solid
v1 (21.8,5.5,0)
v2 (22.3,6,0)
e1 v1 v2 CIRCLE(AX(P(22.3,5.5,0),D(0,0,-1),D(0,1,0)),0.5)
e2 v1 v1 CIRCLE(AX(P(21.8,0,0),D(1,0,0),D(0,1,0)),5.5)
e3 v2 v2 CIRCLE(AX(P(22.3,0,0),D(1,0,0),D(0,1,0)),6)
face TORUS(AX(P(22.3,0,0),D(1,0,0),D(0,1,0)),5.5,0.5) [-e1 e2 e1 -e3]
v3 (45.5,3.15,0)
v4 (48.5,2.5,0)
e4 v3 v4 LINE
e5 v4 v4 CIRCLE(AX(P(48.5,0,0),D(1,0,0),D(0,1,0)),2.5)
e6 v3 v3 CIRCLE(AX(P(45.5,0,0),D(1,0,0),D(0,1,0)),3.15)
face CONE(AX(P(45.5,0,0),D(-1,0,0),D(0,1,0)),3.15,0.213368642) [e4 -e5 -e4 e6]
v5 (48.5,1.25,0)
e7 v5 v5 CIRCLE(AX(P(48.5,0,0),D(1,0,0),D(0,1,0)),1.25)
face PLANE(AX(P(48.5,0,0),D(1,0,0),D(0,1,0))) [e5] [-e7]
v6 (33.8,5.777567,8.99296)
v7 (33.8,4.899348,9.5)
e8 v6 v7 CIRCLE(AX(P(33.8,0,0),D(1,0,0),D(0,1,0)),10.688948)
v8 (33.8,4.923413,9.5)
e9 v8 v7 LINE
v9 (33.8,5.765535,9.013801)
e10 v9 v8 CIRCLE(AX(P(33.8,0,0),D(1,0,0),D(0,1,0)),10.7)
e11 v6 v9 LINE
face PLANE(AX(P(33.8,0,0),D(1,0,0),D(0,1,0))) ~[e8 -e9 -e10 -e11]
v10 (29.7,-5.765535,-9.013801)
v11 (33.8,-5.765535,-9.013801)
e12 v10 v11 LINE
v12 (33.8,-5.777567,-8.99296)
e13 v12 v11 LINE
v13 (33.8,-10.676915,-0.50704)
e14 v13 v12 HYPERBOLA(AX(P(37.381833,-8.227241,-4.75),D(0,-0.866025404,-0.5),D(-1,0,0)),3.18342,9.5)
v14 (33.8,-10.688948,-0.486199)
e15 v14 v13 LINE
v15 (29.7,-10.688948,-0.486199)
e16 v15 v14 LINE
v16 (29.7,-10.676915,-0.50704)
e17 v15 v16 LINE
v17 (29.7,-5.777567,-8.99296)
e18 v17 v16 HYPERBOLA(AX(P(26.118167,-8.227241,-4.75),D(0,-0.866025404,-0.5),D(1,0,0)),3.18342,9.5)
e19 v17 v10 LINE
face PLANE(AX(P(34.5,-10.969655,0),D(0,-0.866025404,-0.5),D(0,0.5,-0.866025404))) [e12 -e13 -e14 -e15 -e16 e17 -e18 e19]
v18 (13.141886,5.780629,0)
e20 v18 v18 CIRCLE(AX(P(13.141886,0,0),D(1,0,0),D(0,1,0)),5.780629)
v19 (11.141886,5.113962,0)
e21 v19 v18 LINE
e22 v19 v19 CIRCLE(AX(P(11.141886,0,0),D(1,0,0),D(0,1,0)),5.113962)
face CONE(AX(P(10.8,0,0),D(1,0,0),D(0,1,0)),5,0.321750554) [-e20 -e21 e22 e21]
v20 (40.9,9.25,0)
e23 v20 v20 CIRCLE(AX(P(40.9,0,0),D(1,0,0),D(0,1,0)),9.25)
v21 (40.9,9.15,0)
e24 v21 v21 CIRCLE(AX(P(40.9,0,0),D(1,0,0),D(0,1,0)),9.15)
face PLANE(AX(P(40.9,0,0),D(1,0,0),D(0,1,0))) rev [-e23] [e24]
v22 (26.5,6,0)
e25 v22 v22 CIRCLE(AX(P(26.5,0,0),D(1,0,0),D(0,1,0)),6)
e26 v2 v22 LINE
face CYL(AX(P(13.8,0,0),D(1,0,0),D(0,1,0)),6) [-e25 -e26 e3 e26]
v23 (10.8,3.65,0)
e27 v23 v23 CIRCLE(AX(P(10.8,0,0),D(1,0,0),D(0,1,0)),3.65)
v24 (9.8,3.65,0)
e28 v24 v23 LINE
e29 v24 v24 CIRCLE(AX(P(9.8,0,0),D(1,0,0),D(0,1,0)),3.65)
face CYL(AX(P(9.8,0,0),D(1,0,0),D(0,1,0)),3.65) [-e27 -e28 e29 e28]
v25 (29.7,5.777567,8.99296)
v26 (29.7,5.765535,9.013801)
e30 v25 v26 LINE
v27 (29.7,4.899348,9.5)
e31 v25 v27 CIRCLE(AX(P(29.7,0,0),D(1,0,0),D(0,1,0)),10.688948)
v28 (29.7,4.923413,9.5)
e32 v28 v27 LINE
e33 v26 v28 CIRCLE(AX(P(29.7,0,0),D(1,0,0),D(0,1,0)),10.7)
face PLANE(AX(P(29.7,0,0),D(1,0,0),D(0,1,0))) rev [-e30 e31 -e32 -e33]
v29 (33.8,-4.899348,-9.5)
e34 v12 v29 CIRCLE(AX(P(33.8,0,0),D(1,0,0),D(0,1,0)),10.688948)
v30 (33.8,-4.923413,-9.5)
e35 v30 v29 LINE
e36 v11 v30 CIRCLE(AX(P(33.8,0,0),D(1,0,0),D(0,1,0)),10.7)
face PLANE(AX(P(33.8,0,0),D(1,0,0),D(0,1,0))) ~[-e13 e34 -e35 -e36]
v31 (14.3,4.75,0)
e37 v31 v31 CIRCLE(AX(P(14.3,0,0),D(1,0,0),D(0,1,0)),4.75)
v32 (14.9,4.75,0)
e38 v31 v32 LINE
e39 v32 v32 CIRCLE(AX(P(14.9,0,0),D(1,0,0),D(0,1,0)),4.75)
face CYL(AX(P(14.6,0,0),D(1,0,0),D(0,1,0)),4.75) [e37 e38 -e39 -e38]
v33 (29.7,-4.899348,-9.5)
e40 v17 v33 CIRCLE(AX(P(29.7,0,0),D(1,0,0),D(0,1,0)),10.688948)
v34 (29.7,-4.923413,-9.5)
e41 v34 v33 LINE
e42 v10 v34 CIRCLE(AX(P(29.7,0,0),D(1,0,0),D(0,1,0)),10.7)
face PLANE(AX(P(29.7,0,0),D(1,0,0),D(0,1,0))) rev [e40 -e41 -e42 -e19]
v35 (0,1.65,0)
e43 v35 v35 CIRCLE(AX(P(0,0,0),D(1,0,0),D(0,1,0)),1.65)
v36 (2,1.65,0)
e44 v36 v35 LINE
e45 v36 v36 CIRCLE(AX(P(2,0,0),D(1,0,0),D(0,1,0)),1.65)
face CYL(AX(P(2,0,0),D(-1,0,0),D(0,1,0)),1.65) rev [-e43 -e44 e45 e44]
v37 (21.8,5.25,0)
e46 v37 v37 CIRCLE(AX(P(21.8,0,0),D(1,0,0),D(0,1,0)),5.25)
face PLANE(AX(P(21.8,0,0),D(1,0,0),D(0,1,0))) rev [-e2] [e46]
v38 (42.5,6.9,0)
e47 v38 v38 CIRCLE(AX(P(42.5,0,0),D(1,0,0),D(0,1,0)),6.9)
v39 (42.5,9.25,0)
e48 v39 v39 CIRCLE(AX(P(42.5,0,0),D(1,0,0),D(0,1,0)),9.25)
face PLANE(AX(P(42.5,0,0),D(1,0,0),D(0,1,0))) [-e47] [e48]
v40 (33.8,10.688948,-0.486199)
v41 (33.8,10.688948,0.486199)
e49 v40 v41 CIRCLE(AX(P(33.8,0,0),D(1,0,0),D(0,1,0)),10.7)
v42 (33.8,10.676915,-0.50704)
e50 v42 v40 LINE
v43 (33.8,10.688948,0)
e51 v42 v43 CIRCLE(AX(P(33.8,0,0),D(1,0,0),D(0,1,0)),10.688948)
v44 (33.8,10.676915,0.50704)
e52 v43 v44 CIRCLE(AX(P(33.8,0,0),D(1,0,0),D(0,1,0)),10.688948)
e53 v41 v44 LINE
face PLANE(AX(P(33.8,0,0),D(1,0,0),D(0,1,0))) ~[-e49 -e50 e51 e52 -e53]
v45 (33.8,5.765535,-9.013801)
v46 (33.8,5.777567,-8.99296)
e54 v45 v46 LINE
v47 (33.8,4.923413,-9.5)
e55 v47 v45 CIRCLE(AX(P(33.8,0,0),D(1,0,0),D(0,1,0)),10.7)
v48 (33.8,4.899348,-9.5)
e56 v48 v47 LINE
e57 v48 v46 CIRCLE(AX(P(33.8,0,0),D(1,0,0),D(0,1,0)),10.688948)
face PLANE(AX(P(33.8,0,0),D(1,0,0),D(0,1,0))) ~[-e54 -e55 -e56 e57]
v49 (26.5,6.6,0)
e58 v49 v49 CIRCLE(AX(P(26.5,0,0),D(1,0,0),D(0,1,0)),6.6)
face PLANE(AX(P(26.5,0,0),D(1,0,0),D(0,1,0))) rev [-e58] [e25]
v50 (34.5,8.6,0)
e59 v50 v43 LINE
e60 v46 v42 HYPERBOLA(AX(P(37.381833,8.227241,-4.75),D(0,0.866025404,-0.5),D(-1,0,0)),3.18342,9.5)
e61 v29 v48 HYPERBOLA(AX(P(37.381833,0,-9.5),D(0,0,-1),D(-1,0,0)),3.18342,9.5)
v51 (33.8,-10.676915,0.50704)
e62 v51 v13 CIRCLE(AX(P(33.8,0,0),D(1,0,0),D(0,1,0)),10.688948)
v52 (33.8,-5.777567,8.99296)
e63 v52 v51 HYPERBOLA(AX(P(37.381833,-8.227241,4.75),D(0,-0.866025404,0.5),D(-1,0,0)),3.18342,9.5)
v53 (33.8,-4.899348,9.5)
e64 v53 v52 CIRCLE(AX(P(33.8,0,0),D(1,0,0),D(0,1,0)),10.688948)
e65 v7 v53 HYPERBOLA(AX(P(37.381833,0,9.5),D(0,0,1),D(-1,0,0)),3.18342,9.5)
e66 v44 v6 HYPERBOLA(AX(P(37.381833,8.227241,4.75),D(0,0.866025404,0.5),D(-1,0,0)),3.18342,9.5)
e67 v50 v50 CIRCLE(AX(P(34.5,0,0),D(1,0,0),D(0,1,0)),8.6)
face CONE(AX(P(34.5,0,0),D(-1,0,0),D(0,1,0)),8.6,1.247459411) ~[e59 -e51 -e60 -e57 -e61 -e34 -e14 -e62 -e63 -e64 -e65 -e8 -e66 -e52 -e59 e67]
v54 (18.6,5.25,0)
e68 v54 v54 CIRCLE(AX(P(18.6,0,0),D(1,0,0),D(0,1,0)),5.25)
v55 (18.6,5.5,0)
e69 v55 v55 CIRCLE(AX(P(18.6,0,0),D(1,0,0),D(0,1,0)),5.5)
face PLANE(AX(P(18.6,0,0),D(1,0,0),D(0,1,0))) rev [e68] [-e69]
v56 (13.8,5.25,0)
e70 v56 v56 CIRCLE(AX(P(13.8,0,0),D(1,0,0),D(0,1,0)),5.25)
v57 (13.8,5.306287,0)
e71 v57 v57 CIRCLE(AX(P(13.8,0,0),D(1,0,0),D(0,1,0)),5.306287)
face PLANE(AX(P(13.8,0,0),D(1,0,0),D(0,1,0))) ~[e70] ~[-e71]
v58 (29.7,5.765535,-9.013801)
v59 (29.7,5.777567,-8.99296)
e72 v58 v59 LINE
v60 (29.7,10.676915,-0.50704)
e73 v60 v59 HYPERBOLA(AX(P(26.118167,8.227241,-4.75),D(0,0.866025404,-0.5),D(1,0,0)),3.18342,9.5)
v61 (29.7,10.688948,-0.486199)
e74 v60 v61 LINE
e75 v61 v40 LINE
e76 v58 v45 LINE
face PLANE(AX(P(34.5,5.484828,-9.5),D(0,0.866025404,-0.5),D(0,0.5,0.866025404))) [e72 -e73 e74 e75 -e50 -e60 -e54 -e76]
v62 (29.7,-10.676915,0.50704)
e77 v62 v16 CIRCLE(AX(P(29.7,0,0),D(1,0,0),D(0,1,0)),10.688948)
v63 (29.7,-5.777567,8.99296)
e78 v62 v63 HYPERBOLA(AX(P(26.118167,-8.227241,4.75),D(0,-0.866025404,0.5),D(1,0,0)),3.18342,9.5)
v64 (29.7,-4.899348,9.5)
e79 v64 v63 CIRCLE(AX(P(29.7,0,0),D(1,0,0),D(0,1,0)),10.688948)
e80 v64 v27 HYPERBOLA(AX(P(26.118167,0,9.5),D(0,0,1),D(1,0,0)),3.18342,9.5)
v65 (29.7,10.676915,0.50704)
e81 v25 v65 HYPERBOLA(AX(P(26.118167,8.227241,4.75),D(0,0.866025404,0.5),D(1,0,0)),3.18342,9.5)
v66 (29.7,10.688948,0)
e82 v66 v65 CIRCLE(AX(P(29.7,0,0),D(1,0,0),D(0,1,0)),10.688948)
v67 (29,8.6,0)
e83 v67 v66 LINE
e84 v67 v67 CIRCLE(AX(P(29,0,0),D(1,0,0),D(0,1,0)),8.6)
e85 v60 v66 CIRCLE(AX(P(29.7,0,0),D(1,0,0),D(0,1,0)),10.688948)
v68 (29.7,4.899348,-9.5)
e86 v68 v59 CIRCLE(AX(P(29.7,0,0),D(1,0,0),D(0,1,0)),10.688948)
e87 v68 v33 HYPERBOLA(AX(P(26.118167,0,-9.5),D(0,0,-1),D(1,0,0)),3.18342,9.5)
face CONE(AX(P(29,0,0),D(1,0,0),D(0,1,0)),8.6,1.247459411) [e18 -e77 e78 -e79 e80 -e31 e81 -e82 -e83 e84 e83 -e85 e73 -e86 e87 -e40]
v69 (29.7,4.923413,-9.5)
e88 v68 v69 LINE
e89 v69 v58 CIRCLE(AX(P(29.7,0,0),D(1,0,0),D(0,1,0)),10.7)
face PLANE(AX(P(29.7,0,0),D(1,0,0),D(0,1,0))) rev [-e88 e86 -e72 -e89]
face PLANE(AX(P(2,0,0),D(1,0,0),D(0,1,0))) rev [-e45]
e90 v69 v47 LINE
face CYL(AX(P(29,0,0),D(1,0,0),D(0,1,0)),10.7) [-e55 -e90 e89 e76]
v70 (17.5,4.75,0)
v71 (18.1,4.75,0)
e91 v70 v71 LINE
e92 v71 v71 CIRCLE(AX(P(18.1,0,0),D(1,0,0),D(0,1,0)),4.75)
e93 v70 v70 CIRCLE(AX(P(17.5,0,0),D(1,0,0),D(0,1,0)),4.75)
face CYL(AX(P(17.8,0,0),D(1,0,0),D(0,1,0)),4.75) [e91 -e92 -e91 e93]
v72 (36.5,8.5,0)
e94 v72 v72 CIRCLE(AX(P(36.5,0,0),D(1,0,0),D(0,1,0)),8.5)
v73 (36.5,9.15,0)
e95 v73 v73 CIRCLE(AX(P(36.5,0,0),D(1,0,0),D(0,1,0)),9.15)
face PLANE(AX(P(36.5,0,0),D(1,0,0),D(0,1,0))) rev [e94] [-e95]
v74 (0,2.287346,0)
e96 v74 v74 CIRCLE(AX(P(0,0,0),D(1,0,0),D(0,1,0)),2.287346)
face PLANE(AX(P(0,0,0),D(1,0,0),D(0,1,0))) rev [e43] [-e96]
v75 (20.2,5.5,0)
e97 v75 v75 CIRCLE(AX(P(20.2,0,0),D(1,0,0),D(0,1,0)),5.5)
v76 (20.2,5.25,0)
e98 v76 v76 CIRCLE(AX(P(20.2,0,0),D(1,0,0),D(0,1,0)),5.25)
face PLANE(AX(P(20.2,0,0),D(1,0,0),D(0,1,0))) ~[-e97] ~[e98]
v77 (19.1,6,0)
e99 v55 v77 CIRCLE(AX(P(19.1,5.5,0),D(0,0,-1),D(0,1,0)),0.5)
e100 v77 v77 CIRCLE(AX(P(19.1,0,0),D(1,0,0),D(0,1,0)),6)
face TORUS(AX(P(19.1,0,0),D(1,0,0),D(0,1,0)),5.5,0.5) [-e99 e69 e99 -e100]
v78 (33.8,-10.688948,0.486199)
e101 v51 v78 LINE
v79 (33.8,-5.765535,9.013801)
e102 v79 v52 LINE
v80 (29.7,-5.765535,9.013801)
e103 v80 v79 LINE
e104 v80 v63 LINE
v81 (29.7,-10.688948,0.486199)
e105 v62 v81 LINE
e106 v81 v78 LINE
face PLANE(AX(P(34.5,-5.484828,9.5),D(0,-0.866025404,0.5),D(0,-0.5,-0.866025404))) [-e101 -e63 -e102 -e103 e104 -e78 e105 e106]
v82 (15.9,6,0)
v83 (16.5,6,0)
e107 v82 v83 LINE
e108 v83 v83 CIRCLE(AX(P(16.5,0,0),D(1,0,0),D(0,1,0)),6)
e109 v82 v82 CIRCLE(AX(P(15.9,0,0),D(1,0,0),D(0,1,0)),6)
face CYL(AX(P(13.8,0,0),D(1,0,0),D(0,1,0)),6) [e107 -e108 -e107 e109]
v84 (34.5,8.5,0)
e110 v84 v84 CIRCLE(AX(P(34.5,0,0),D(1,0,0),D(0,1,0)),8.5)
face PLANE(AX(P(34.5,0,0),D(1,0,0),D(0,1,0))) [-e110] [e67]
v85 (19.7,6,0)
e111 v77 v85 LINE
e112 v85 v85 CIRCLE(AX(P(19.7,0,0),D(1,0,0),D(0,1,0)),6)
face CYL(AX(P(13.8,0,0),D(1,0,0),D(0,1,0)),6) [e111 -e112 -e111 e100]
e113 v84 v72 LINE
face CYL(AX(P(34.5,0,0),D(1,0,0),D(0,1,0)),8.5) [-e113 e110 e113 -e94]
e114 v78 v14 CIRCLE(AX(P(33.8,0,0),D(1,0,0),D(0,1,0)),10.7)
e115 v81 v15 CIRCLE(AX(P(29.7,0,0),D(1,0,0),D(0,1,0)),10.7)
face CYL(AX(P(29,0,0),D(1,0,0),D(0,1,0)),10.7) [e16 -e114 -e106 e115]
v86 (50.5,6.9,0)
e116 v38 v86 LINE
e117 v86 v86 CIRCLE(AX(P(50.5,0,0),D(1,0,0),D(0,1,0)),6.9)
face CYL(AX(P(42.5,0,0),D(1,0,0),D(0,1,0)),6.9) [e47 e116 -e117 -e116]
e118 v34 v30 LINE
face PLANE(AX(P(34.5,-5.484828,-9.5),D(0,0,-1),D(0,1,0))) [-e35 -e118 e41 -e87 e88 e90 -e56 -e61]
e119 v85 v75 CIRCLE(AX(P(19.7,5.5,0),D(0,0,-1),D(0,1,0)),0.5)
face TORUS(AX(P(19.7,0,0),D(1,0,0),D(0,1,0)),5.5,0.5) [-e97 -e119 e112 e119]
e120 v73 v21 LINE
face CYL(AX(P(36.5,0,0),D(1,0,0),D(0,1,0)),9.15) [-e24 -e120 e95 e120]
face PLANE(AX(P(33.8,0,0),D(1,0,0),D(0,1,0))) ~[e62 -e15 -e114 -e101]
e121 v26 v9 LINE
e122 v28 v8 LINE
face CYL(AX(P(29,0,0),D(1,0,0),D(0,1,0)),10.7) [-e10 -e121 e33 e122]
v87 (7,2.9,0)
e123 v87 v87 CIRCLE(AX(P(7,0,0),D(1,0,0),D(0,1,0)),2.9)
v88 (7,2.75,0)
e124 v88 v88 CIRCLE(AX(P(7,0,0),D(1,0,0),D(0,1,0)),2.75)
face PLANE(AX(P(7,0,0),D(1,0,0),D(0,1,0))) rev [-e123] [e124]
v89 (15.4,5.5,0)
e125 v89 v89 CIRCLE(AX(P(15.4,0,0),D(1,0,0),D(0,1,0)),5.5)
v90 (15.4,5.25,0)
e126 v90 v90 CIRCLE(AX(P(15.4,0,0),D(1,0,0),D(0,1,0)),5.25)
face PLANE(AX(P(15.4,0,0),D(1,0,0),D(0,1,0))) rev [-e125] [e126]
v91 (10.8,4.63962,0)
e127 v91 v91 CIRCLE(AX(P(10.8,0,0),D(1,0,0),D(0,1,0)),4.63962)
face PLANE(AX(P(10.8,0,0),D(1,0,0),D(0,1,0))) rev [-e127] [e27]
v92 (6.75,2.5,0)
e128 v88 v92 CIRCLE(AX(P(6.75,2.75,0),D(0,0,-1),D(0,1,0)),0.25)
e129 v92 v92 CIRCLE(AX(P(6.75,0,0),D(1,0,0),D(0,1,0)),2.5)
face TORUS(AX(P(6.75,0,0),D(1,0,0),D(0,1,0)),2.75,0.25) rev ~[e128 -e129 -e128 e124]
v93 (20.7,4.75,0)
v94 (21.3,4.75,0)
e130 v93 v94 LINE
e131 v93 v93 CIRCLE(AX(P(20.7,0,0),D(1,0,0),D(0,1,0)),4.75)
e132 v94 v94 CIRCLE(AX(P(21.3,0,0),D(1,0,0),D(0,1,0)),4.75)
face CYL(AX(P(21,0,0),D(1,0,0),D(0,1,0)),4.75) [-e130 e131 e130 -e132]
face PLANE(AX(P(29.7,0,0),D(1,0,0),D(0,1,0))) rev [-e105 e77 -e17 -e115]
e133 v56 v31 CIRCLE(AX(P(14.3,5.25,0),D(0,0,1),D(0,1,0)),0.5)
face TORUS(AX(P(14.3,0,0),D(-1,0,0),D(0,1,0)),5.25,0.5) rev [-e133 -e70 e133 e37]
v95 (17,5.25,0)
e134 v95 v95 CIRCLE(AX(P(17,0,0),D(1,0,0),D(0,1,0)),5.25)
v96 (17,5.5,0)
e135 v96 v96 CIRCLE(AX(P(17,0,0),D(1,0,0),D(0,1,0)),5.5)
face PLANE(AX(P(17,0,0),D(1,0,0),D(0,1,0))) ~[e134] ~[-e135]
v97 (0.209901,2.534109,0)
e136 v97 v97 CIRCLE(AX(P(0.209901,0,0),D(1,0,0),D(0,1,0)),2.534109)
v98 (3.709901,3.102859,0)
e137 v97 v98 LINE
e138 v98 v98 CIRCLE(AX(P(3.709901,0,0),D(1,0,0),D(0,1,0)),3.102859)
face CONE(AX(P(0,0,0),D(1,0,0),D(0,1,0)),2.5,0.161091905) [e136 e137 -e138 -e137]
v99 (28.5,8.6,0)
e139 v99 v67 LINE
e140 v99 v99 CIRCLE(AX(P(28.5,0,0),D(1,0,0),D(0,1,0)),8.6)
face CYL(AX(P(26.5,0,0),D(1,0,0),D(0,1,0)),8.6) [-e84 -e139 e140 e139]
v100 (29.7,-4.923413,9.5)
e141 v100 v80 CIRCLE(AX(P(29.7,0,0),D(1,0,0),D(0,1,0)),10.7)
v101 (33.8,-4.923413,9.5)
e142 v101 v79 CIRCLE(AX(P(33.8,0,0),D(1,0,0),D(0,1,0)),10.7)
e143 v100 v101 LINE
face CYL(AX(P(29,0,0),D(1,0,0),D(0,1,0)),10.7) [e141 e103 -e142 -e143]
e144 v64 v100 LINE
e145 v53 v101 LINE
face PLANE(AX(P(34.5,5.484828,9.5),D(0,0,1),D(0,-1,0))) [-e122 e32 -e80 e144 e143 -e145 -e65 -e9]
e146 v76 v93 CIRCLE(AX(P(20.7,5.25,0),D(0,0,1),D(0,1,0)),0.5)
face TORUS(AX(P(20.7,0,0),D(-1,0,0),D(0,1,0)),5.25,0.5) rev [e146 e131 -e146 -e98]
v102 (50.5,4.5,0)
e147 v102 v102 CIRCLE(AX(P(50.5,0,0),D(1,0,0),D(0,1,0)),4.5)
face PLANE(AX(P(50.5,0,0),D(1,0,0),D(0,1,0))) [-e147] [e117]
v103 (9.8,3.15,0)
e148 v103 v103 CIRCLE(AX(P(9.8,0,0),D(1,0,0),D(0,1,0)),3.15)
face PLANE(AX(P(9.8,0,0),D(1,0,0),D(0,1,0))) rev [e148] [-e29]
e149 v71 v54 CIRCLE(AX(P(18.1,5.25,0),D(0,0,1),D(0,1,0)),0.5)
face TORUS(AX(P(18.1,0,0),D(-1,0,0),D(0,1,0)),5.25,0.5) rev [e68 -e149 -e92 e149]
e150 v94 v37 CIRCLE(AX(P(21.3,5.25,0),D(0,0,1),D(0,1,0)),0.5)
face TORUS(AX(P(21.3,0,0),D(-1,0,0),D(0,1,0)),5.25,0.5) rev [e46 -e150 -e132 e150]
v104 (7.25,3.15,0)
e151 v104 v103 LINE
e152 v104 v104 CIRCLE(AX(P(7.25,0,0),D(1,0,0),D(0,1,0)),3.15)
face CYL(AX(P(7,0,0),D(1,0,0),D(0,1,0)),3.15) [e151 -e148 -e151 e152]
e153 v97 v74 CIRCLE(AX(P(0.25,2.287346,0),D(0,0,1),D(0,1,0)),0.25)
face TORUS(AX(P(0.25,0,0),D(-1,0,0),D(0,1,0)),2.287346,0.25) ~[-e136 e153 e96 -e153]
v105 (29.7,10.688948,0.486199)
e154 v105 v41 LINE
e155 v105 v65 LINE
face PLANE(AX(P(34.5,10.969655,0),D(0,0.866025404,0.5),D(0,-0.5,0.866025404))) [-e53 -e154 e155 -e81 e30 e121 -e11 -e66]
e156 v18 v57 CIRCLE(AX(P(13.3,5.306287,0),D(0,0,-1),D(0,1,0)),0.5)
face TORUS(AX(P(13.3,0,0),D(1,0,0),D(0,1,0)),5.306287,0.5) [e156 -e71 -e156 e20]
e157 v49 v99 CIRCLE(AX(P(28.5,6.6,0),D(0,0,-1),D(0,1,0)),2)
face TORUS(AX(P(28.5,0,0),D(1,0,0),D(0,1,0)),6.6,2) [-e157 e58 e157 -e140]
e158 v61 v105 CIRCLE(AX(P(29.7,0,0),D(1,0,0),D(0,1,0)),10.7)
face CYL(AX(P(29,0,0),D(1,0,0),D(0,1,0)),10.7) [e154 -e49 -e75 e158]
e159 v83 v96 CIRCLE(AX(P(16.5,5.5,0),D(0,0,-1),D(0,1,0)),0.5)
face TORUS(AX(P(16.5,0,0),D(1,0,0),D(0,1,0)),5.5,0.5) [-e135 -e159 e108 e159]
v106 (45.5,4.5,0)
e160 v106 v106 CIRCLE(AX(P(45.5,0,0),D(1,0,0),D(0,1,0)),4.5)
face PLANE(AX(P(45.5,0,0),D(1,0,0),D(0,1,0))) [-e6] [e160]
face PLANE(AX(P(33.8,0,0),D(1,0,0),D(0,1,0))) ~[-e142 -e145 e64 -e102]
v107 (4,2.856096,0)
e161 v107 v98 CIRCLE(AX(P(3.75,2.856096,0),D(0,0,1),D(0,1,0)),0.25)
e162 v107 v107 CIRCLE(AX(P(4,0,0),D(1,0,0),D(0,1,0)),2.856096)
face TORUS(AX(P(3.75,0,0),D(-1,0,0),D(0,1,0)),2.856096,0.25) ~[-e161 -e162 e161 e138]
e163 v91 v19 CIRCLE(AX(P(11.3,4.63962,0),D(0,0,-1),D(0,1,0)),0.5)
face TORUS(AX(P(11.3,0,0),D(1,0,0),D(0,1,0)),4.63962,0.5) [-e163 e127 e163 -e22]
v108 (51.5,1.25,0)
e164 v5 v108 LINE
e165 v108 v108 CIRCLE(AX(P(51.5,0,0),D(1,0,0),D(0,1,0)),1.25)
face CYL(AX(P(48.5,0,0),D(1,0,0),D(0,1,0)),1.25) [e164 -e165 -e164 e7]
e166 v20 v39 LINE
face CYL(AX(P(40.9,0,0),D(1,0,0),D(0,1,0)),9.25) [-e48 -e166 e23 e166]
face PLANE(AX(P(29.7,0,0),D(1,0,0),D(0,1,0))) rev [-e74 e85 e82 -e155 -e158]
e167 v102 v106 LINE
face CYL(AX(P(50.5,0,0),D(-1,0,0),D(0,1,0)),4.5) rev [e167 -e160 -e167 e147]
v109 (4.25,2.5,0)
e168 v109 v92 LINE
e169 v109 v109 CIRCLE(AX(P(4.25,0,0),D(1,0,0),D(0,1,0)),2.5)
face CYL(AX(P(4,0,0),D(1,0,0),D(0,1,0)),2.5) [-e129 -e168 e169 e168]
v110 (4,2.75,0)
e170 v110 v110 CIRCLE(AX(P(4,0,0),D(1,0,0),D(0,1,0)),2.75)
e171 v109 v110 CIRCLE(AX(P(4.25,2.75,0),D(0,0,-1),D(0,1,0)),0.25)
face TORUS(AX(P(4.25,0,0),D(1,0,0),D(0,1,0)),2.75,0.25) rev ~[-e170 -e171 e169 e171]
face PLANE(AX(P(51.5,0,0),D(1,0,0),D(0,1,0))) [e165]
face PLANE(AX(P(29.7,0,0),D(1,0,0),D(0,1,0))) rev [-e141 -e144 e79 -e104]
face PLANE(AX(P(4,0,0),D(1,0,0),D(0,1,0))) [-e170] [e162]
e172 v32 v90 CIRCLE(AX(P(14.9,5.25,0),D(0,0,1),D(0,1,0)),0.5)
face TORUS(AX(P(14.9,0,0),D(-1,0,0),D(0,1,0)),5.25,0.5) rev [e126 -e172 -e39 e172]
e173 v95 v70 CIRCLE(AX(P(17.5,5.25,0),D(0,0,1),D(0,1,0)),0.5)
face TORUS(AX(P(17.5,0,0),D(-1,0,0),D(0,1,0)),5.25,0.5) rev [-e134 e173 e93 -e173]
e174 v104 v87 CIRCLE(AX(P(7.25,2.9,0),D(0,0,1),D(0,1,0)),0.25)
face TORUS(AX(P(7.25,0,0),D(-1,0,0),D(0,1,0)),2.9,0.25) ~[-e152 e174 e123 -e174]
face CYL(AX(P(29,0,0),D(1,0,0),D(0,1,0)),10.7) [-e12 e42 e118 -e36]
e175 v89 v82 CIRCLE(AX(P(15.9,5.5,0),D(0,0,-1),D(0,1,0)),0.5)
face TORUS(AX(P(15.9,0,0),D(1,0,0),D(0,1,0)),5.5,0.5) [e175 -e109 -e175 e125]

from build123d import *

# Parameters (mm, degrees)
SKETCH2_R          = 12.626586576
CUT_EXTRUDE1_DEPTH = 10
SKETCH3_W          = 1.6
SKETCH3_H          = 2.464975845
SKETCH3_H_2        = 2.36352657
FILLET1_R          = 0.5
FILLET2_R          = 0.25
FILLET3_R          = 2


with BuildPart() as part:
    # Sketch1 → Revolve1 (revolve)
    with BuildSketch(Plane.XY):
        Polygon((2, 0), (2, 1.65), (0, 1.65), (0, 2.5), (4, 3.15), (4, 2.5), (7, 2.5), (7, 3.15), (9.8, 3.15), (9.8, 3.65), (10.8, 3.65), (10.8, 5), (13.8, 6), (26.5, 6), (26.5, 8.6), (29, 8.6), (29, 10.7), (34.5, 10.7), (34.5, 8.5), (36.5, 8.5), (36.5, 9.15), (40.9, 9.15), (40.9, 9.25), (42.5, 9.25), (42.5, 6.9), (50.5, 6.9), (50.5, 4.5), (45.5, 4.5), (45.5, 3.15), (48.5, 2.5), (48.5, 1.25), (51.5, 1.25), (51.5, 0), align=None)
    revolve(axis=Axis((0, 0, 0), (1, 0, 0)))

    # Sketch2 → Cut-Extrude1 (cut)
    with BuildSketch(Plane(origin=(34.5, 0, 0), x_dir=(0, 0, -1), z_dir=(1, 0, 0))):
        Circle(SKETCH2_R)
        Polygon((0, 10.969655115), (-9.5, 5.484827557), (-9.5, -5.484827557), (0, -10.969655115), (9.5, -5.484827557), (9.5, 5.484827557), align=None, mode=Mode.SUBTRACT)
    extrude(amount=-CUT_EXTRUDE1_DEPTH, mode=Mode.SUBTRACT)

    # Sketch3 → Cut-Revolve1 (revolve, cut)
    with BuildSketch(Plane.XY):
        with Locations((14.6, 5.982487923)):
            Rectangle(SKETCH3_W, SKETCH3_H)
        with Locations((17.8, 5.931763285)):
            Rectangle(SKETCH3_W, SKETCH3_H_2)
        with Locations((21, 5.931763285)):
            Rectangle(SKETCH3_W, SKETCH3_H_2)
        Polygon((29, 10.688948061), (29, 8.6), (29.7, 10.688948061), (29.7, 11.924429979), (29, 11.924429979), align=None)
        Polygon((34.5, 8.6), (33.8, 10.688948061), (33.8, 13.16419264), (34.5, 13.16419264), (34.5, 10.688948061), align=None)
    revolve(axis=Axis((0, 0, 0), (1, 0, 0)), mode=Mode.SUBTRACT)

    # Fillet1
    fillet1_edges = [part.edges().sort_by_distance(p)[0] for p in [
        (15.4, -4.75, 0),
        (13.8, -6, 0),
        (15.4, -6, 0),
        (13.8, -4.75, 0),
        (18.6, -4.75, 0),
        (17, -6, 0),
        (18.6, -6, 0),
        (17, -4.75, 0),
        (21.8, -4.75, 0),
        (20.2, -6, 0),
        (21.8, -6, 0),
        (20.2, -4.75, 0),
        (10.8, -5, 0),
    ]]
    fillet(fillet1_edges, radius=FILLET1_R)

    # Fillet2
    fillet2_edges = [part.edges().sort_by_distance(p)[0] for p in [
        (7, -3.15, 0),
        (7, -2.5, 0),
        (4, -2.5, 0),
        (4, -3.15, 0),
        (0, -2.5, 0),
    ]]
    fillet(fillet2_edges, radius=FILLET2_R)

    # Fillet3
    fillet3_edges = [part.edges().sort_by_distance(p)[0] for p in [
        (26.5, -8.6, 0),
    ]]
    fillet(fillet3_edges, radius=FILLET3_R)


solid = part.part
